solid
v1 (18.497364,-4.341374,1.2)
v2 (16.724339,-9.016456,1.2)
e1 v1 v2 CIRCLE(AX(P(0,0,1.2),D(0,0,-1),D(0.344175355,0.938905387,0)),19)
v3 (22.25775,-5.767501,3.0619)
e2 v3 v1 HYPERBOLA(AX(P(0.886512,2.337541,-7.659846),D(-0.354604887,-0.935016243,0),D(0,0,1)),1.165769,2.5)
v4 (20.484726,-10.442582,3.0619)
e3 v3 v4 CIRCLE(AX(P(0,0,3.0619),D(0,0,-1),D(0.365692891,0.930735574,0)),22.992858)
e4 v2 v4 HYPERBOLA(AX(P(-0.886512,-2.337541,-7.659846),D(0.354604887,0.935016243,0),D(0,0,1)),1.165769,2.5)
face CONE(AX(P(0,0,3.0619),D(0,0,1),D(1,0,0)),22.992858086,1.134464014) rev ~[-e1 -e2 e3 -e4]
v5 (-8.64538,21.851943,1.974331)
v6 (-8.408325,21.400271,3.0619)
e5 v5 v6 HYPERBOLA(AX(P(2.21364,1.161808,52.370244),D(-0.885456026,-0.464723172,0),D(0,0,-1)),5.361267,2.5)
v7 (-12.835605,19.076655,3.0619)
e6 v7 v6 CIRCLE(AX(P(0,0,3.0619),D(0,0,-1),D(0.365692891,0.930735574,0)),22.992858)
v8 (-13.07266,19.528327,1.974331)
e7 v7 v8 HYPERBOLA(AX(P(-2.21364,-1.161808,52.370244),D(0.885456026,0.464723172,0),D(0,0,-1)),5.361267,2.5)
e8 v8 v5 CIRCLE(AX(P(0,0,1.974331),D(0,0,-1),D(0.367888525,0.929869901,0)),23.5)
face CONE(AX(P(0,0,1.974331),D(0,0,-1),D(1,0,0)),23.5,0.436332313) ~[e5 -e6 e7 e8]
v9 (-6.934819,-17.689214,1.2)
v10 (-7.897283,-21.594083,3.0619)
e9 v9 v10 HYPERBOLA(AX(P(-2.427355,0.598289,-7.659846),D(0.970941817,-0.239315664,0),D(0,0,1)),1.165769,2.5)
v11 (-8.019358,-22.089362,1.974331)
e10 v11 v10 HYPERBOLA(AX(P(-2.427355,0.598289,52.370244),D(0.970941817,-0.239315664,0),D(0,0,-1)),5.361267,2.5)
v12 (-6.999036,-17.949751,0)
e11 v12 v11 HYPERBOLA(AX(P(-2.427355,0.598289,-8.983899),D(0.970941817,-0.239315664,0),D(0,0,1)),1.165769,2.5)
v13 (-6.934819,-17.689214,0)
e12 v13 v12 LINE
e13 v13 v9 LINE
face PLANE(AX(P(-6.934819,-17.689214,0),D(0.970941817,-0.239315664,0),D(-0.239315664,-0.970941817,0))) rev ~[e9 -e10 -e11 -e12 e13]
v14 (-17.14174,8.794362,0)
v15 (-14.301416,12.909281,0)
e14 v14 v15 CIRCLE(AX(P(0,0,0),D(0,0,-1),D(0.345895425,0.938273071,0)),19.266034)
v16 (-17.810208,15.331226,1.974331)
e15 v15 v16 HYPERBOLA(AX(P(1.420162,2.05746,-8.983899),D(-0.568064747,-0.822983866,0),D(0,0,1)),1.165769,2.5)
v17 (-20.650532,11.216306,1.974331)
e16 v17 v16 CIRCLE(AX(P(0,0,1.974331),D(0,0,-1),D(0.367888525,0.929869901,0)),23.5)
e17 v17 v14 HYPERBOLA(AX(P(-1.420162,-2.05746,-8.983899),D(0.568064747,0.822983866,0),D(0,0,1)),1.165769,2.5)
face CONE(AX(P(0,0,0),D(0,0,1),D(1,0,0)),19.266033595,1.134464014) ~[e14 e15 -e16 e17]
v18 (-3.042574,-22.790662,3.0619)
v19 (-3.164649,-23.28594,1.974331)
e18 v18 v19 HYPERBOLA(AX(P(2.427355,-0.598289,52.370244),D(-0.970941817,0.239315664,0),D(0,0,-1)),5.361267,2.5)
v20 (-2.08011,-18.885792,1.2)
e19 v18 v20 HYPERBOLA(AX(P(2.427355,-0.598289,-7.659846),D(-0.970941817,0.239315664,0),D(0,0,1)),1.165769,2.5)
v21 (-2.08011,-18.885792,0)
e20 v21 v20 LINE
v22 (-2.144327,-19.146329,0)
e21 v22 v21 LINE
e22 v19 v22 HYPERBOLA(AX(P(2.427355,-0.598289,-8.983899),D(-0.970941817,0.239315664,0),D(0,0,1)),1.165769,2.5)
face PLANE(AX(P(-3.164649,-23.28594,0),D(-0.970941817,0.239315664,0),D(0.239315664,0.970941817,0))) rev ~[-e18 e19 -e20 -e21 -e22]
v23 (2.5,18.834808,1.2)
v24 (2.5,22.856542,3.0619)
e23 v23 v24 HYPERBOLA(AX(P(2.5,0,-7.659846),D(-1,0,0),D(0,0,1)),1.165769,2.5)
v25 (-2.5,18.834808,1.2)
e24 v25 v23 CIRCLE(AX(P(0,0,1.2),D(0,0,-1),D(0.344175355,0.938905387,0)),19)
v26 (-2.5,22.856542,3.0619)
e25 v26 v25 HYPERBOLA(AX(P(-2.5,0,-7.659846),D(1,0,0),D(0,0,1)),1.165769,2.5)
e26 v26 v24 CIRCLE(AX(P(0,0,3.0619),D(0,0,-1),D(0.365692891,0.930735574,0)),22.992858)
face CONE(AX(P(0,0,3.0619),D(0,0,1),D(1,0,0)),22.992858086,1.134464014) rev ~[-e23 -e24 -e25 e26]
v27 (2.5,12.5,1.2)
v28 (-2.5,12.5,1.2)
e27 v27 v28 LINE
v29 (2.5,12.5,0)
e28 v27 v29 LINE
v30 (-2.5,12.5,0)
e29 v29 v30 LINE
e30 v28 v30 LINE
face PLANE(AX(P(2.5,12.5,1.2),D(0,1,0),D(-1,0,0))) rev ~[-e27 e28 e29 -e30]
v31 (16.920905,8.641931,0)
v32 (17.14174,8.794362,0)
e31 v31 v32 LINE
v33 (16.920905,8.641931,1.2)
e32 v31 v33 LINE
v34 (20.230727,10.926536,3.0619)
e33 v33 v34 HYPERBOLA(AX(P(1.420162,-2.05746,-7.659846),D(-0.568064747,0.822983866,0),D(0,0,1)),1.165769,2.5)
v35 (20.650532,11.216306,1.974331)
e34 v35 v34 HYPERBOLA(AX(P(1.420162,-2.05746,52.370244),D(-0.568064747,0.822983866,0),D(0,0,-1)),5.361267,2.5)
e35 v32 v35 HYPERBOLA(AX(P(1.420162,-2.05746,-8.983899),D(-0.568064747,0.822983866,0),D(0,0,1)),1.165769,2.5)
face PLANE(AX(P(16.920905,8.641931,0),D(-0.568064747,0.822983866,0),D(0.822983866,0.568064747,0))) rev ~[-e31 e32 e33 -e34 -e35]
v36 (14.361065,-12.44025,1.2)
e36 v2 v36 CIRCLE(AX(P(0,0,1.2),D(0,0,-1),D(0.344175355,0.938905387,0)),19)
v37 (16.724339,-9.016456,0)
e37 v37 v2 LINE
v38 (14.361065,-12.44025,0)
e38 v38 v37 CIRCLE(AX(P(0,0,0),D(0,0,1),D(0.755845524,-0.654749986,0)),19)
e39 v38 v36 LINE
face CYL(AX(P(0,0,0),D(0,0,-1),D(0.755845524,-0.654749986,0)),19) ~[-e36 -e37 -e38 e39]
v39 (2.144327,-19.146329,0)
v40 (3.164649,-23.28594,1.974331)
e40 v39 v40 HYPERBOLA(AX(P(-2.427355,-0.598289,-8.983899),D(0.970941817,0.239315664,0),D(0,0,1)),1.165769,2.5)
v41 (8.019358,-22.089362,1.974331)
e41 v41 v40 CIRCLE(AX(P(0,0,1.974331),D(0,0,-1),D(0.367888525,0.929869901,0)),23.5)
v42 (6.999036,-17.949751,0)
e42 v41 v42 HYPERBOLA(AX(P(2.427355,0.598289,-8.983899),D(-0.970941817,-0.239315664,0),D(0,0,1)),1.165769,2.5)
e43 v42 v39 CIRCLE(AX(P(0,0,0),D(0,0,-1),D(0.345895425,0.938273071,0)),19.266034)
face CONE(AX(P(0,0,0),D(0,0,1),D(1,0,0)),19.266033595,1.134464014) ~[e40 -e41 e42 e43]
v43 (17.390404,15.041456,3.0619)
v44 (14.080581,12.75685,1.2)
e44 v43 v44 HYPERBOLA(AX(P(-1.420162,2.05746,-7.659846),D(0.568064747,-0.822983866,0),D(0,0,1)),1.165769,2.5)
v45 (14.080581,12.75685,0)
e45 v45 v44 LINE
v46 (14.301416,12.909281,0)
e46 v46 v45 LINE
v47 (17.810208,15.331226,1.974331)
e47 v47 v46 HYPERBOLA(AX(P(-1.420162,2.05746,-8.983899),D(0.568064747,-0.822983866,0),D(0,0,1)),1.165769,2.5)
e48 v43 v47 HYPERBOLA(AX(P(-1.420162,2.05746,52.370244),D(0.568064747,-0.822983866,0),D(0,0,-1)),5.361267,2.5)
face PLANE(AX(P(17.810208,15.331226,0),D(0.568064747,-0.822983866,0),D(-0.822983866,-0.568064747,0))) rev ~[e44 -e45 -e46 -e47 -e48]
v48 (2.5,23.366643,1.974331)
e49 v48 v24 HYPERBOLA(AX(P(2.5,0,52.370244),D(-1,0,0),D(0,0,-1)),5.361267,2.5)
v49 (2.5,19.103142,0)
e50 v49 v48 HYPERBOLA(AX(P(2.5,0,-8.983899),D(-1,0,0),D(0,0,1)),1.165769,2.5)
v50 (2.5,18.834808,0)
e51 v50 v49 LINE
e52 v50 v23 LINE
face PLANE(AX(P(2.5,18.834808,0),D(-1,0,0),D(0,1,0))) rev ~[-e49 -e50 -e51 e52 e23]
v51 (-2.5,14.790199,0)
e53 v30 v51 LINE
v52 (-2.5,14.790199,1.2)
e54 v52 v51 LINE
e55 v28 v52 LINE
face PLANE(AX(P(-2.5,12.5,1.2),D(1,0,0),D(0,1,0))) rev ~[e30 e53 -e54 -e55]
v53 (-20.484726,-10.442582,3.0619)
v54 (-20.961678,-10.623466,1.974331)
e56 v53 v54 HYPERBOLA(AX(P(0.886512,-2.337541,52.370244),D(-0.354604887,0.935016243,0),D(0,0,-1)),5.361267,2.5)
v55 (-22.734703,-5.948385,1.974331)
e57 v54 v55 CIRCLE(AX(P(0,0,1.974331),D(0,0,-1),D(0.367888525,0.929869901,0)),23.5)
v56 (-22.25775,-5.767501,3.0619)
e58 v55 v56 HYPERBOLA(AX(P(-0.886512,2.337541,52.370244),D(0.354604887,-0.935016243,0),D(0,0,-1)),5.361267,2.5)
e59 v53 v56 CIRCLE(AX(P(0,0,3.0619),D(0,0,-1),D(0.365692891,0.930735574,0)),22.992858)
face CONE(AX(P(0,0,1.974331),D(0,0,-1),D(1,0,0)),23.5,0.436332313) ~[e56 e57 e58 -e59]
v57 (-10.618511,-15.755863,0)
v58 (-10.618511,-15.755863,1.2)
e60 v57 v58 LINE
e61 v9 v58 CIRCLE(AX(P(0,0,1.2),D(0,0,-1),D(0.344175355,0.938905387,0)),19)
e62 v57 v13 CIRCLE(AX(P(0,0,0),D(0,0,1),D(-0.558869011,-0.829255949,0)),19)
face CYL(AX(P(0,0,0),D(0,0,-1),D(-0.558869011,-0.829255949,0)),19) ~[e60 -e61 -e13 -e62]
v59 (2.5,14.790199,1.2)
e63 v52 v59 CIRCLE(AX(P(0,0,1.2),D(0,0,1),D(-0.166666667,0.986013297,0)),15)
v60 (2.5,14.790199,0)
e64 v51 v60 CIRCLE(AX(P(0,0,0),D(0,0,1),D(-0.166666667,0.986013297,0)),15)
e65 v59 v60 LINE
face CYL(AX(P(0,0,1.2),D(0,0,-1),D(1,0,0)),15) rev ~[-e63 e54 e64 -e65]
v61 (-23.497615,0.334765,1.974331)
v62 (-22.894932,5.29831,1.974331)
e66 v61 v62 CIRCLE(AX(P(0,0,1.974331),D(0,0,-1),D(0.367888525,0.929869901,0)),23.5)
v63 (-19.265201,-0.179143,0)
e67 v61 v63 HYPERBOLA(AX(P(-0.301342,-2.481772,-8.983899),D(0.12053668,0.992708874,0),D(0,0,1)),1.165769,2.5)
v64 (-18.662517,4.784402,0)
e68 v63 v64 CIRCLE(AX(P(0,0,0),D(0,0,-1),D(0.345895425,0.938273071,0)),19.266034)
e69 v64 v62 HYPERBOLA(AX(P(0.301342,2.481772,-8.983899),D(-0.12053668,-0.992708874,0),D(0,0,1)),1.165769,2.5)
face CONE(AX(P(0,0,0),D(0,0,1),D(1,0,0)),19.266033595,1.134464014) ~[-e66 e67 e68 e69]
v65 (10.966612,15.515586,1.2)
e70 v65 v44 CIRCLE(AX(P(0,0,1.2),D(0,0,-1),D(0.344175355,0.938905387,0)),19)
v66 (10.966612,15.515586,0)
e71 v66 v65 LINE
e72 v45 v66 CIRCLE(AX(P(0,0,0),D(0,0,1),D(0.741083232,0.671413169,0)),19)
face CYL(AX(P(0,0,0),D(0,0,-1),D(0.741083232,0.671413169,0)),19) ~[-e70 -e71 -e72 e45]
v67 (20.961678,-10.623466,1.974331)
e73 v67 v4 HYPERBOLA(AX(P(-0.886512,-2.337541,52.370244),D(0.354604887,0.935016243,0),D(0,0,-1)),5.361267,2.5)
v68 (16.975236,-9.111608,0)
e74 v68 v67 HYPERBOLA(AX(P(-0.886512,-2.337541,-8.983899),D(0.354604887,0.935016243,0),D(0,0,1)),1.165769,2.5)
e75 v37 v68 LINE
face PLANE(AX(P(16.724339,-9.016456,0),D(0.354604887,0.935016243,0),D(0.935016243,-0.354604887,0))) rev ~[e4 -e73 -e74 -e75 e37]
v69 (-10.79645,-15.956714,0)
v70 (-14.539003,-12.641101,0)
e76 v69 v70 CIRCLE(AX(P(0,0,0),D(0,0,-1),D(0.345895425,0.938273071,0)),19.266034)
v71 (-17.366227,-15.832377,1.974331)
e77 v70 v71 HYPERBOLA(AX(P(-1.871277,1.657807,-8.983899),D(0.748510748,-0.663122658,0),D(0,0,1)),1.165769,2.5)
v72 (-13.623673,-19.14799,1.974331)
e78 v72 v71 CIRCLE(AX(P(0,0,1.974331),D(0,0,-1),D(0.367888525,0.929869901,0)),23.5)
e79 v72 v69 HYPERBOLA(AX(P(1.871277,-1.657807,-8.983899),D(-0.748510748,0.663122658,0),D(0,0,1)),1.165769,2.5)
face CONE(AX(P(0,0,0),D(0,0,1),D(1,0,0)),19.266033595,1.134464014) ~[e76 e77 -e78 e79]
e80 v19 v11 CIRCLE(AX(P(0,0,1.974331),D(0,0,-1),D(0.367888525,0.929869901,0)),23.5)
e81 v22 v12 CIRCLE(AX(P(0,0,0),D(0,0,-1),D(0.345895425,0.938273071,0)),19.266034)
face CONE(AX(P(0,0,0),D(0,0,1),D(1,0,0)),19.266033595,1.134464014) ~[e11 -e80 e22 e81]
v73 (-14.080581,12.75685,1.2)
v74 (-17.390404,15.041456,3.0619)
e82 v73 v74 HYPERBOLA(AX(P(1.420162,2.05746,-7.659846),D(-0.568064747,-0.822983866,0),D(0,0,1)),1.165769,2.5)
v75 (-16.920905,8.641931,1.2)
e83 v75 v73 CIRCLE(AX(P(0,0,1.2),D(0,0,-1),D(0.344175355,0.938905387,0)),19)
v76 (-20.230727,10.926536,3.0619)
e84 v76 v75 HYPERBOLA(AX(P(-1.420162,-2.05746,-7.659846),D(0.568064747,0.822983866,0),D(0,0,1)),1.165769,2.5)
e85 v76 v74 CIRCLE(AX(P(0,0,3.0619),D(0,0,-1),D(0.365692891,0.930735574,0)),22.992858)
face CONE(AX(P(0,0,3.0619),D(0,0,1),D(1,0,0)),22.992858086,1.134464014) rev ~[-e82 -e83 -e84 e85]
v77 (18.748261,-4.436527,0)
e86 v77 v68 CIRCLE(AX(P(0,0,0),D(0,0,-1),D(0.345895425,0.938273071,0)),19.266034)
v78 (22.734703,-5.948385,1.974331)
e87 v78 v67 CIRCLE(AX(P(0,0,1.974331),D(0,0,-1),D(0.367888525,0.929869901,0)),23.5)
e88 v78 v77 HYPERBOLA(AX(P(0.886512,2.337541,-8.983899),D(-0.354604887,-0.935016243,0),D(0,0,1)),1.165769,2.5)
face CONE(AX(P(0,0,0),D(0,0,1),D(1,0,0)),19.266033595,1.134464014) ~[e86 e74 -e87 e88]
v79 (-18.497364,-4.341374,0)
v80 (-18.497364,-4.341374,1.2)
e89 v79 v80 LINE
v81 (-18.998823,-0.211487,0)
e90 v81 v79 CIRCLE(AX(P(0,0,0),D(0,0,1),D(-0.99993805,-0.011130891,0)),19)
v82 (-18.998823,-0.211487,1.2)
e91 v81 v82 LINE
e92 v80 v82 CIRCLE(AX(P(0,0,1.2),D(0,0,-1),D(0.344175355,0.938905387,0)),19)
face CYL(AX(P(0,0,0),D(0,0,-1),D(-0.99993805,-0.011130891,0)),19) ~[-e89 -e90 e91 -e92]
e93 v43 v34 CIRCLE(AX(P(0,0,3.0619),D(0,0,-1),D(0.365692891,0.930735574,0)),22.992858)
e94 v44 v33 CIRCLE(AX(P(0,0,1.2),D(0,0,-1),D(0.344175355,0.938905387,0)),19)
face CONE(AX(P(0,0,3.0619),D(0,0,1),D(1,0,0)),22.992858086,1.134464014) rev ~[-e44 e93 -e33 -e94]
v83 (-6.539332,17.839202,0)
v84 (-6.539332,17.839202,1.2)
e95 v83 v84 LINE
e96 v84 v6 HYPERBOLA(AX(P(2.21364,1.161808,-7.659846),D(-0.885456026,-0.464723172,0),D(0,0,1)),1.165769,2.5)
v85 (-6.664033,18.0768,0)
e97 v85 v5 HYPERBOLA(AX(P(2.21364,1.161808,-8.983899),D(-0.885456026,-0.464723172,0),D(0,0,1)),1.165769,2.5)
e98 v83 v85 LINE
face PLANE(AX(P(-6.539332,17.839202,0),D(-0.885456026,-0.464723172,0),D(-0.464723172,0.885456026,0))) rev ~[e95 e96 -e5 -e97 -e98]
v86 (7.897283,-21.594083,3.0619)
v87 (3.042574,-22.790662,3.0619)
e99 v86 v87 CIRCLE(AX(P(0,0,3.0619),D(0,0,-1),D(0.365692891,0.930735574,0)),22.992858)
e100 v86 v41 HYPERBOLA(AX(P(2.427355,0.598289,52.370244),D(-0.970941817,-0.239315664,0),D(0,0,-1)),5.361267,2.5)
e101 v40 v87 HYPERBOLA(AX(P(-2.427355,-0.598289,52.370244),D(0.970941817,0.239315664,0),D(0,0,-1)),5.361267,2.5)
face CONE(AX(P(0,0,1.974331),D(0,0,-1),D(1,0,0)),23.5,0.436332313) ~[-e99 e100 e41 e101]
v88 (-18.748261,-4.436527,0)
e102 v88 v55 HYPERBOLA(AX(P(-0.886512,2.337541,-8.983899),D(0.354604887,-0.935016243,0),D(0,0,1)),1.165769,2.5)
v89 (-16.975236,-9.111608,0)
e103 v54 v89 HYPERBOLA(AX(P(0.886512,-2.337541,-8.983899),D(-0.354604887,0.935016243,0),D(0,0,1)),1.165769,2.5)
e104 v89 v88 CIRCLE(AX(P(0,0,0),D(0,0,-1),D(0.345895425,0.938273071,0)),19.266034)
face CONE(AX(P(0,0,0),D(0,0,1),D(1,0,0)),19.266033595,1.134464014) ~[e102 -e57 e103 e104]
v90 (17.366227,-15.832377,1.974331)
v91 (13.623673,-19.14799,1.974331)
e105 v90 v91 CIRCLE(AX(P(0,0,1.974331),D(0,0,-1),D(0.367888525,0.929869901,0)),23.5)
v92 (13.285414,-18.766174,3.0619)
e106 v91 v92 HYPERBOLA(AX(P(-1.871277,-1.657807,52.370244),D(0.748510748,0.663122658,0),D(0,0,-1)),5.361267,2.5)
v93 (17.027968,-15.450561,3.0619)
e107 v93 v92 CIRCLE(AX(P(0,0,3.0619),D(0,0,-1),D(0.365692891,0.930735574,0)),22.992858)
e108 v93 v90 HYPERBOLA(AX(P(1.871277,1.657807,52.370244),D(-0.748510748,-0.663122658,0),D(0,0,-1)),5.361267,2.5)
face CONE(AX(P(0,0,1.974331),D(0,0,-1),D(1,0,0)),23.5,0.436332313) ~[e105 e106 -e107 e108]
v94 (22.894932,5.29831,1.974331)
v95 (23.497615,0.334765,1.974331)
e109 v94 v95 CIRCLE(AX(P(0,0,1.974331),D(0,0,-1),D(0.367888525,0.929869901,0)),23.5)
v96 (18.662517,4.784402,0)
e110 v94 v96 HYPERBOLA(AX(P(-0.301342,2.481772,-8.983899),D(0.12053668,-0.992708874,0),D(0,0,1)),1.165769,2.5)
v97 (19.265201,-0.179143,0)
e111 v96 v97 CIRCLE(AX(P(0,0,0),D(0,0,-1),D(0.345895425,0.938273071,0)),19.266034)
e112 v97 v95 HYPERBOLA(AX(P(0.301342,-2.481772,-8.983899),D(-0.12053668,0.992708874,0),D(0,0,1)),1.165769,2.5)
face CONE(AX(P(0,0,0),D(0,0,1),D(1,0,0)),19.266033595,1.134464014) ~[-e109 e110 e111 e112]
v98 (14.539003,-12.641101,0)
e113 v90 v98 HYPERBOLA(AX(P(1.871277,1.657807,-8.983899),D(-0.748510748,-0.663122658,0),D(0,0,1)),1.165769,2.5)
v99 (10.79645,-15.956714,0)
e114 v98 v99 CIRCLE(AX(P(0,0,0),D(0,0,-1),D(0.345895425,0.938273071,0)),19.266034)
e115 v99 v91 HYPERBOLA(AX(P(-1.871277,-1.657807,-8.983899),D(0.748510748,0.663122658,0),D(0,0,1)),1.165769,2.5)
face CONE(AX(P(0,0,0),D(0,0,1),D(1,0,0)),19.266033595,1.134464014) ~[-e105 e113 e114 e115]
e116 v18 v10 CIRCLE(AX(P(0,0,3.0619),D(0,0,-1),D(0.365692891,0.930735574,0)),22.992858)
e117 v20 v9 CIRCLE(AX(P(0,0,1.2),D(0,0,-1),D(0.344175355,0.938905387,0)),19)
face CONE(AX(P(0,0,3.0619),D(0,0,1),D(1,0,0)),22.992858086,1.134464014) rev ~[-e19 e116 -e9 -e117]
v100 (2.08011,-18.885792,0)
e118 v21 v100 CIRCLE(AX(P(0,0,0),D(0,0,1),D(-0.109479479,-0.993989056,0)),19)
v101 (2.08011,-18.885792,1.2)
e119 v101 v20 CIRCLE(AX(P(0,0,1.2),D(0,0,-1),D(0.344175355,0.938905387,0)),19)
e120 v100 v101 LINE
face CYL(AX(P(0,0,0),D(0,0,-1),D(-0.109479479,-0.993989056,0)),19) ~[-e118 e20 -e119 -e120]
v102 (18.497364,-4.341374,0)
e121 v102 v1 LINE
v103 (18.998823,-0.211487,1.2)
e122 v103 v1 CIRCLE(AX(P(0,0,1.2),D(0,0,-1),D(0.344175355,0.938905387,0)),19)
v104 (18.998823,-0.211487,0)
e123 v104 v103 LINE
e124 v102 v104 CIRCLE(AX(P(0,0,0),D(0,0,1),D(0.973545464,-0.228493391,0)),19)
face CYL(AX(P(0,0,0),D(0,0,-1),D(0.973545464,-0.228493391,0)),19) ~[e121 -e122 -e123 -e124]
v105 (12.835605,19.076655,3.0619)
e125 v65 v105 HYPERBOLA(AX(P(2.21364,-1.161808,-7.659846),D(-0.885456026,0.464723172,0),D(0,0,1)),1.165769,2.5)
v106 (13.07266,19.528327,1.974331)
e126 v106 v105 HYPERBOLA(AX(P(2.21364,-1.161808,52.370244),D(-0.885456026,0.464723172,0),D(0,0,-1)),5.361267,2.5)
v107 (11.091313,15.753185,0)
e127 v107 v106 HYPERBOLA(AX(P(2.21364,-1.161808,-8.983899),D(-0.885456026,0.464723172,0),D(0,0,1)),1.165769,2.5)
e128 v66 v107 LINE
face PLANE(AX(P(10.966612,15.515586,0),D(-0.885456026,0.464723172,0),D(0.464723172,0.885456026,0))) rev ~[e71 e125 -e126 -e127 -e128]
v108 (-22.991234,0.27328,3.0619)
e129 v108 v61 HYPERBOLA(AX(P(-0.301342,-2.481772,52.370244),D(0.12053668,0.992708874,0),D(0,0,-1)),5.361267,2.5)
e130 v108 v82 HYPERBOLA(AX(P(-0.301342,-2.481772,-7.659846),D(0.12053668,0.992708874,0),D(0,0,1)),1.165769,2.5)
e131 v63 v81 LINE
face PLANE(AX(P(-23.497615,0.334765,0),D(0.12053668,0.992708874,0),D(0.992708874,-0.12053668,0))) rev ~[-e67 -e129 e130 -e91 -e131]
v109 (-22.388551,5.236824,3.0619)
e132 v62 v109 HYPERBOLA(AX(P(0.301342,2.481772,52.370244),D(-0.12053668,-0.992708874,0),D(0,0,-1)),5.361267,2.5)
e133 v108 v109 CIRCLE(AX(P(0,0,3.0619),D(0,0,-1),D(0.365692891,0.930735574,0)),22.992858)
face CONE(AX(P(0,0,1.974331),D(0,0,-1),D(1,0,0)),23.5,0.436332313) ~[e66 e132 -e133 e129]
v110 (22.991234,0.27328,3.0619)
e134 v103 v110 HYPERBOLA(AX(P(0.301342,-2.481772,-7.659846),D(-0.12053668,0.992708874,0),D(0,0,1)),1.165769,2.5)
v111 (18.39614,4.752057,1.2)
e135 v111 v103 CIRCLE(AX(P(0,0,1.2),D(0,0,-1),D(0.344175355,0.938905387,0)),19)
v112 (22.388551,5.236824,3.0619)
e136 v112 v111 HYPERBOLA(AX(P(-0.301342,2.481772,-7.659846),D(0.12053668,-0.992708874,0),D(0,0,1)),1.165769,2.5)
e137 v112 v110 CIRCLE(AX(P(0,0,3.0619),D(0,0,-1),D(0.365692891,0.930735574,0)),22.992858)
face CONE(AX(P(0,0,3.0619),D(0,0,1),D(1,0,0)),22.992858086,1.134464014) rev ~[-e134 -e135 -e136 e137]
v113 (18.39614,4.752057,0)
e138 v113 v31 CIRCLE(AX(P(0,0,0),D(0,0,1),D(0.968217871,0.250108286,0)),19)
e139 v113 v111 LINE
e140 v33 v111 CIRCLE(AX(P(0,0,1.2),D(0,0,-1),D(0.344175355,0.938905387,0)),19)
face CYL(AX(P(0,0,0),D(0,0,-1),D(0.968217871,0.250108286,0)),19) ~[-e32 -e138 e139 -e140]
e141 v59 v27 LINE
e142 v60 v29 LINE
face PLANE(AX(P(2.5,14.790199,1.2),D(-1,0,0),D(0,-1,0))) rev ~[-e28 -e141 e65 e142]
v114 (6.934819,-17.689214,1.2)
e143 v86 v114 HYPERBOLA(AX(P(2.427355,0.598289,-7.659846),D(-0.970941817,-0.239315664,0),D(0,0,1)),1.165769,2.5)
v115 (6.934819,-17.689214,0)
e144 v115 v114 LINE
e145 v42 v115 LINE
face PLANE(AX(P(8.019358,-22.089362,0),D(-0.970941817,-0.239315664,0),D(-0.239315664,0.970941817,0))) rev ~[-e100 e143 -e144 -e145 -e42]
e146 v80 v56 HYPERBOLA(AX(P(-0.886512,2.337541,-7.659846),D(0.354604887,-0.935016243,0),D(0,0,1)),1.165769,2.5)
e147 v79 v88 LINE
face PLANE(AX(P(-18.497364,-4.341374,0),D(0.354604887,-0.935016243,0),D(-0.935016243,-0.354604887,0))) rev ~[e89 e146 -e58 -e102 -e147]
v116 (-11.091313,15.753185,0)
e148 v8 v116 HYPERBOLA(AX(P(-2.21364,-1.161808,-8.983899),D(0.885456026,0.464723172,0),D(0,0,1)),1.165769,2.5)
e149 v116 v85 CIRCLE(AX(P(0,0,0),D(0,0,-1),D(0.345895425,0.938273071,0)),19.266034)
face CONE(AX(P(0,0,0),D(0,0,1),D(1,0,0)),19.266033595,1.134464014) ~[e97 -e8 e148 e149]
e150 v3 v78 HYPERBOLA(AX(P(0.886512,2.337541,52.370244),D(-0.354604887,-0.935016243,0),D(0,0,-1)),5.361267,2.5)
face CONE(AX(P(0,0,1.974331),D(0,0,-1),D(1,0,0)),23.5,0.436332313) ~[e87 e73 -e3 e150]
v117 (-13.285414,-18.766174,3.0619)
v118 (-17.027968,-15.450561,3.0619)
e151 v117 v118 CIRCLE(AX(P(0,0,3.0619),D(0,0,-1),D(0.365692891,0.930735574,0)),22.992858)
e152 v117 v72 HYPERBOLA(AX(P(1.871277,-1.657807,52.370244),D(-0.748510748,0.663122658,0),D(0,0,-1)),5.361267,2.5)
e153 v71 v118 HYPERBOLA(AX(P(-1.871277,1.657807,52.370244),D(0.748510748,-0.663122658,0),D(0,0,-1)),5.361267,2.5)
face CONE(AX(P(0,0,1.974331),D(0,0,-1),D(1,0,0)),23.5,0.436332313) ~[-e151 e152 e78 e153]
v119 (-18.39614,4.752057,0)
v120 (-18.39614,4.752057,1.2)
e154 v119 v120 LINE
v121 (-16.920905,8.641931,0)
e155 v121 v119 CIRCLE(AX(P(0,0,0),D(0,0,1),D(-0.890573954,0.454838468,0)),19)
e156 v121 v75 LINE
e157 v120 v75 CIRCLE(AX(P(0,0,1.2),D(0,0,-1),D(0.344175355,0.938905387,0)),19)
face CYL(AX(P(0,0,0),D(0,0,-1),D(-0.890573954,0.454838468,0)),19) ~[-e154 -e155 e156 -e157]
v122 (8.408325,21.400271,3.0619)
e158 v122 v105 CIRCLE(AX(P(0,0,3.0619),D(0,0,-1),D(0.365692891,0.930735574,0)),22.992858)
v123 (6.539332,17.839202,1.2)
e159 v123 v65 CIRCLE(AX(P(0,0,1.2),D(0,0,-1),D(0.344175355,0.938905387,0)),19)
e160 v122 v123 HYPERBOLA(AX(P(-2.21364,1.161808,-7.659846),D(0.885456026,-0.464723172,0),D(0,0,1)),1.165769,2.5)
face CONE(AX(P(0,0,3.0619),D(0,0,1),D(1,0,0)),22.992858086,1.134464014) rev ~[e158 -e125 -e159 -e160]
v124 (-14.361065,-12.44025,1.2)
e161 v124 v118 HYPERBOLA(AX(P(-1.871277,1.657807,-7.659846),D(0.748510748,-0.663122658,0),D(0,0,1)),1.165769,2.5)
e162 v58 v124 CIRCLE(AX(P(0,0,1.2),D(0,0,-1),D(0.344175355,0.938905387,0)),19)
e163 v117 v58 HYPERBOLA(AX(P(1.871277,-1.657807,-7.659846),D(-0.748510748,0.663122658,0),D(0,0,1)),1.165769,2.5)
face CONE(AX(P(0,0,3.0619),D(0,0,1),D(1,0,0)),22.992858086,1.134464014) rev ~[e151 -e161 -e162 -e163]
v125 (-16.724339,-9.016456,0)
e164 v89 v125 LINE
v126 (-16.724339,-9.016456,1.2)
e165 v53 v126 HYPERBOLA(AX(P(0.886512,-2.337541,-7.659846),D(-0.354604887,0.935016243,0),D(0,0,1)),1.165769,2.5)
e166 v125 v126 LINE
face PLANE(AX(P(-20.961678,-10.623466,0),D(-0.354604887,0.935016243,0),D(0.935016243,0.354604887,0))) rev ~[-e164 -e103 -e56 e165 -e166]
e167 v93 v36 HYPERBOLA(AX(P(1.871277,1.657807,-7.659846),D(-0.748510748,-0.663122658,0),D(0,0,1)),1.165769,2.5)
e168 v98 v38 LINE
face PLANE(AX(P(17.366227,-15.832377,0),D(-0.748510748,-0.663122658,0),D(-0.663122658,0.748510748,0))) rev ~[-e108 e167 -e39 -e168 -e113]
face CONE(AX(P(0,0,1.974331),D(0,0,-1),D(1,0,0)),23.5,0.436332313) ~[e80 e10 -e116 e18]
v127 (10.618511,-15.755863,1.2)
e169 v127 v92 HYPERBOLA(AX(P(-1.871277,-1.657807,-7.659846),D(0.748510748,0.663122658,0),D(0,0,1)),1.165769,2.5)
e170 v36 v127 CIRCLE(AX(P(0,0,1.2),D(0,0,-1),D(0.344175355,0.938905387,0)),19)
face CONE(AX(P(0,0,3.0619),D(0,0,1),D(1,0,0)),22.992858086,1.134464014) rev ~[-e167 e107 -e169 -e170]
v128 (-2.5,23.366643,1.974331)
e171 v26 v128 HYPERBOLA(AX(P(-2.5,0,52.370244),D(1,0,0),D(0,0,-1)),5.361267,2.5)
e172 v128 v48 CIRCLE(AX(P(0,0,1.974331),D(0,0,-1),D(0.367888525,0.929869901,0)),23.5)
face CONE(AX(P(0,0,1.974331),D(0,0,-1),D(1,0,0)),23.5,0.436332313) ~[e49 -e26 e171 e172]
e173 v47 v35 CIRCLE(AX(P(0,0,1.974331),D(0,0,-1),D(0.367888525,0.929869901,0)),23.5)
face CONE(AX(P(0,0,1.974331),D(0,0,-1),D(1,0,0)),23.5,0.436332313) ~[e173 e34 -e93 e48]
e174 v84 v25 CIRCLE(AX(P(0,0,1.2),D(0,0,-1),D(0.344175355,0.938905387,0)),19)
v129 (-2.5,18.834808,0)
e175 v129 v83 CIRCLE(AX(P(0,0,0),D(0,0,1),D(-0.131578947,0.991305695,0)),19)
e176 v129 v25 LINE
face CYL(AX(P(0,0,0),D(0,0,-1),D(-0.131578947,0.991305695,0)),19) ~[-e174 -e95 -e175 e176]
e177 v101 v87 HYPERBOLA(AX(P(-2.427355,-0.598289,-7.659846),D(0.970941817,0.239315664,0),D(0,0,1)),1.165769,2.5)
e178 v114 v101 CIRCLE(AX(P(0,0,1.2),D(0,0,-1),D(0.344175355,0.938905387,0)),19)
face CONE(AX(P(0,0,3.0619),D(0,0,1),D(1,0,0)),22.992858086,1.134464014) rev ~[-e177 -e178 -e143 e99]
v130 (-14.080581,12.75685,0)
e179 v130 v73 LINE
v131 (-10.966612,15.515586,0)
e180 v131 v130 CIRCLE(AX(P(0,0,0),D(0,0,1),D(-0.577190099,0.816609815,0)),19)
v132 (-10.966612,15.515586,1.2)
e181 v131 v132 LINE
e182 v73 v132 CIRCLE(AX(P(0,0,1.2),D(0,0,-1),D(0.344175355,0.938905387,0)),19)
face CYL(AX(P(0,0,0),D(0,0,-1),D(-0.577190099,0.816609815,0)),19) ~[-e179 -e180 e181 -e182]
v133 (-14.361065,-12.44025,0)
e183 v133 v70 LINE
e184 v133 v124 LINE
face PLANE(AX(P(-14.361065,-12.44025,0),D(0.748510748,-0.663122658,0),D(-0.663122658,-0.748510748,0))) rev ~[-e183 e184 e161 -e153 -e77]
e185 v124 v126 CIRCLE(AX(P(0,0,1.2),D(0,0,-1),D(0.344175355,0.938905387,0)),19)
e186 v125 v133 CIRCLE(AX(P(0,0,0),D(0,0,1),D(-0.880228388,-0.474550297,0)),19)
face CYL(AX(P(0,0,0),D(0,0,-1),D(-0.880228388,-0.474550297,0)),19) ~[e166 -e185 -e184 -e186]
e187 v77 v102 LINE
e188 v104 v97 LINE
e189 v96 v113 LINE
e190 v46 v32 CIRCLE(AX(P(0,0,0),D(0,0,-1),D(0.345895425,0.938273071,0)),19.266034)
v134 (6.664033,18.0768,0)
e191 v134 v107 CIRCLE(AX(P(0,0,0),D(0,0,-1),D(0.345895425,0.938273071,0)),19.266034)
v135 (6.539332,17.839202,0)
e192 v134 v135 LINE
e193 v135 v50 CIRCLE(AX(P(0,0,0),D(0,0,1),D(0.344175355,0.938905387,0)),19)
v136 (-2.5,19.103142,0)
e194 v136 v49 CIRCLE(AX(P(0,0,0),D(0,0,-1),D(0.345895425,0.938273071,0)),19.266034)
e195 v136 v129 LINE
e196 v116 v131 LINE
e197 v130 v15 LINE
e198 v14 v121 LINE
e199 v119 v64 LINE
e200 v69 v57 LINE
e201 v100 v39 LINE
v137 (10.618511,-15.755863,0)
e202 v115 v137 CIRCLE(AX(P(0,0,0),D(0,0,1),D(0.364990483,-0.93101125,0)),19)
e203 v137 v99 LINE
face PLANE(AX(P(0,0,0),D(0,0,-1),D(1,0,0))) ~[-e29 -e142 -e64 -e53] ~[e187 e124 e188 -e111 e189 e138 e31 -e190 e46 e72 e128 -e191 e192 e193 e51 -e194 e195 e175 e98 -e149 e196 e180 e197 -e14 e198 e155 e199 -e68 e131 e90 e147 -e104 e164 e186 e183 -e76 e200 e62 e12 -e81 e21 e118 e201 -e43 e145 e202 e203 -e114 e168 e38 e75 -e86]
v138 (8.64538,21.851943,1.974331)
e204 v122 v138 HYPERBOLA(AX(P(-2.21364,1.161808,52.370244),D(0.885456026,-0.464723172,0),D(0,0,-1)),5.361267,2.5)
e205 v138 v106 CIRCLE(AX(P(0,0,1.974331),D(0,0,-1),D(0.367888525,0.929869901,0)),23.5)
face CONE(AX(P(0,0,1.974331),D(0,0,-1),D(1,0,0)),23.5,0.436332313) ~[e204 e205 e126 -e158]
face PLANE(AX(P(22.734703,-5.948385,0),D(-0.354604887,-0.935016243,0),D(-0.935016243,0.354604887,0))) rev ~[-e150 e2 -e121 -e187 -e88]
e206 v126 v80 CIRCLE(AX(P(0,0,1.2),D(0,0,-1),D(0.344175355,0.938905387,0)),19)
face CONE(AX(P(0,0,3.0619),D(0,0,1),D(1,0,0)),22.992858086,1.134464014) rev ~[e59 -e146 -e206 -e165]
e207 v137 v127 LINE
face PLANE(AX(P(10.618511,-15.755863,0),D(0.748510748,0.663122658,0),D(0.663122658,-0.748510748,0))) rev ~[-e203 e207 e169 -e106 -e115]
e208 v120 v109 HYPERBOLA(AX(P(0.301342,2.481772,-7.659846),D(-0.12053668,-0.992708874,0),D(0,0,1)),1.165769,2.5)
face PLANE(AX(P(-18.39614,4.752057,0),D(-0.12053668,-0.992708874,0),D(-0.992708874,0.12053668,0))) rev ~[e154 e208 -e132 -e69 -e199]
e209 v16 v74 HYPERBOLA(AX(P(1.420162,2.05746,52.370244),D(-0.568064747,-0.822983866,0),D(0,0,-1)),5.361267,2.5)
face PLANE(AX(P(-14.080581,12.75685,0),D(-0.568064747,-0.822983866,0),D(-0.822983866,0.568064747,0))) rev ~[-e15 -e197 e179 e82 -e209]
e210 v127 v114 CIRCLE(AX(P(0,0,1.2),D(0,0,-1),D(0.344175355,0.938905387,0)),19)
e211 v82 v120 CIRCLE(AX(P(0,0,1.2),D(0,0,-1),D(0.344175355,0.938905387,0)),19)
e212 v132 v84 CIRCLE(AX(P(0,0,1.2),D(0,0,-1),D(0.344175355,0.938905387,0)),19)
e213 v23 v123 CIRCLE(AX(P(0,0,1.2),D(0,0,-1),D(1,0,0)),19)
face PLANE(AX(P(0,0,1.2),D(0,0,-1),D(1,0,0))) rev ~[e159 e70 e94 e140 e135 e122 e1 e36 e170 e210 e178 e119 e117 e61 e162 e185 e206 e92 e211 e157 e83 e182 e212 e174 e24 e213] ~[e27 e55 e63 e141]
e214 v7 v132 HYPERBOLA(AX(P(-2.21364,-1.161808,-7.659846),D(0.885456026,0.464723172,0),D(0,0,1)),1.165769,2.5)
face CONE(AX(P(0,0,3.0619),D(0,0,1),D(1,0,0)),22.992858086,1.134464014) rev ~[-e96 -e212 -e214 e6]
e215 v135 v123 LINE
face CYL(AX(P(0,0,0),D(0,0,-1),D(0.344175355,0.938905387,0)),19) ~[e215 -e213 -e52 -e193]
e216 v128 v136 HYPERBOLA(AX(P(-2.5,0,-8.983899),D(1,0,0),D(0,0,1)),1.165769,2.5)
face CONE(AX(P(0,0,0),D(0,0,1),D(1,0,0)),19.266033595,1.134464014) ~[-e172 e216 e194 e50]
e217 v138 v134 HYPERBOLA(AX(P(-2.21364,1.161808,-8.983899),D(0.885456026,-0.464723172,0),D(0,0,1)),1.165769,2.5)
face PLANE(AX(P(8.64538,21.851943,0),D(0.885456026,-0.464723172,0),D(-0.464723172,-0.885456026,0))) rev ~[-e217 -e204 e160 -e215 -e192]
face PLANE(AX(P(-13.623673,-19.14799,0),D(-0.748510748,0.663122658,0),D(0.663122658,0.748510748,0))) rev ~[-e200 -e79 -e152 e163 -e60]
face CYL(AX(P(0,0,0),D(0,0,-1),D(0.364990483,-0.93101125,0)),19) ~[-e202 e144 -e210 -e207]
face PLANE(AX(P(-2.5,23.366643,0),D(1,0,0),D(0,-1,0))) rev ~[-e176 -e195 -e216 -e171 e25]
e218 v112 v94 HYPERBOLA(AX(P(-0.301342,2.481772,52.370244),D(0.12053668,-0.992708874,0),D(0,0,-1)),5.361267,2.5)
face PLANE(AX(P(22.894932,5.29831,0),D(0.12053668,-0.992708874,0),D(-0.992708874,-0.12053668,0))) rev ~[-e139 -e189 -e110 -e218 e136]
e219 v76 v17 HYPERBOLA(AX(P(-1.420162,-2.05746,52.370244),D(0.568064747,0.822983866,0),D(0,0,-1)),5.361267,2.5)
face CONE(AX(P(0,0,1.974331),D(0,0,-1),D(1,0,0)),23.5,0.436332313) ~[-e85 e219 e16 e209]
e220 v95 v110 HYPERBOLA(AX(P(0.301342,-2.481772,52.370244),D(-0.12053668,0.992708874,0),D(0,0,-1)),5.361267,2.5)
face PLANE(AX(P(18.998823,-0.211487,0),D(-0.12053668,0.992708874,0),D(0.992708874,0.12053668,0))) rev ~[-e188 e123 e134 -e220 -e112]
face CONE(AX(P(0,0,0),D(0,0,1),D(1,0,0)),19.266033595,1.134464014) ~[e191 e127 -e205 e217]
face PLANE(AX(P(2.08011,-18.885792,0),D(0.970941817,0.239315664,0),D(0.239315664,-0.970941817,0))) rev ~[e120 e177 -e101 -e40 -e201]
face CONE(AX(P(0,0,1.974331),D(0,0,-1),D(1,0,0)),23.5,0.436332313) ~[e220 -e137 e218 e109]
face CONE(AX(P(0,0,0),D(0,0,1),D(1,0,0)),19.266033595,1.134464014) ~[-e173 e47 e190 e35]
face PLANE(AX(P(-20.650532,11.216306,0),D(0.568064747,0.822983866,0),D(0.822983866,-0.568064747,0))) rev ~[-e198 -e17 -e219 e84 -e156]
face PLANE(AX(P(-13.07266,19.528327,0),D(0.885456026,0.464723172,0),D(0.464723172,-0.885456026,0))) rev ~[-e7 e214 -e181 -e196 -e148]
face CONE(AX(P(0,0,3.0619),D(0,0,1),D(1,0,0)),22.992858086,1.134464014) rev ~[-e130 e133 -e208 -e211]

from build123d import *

# Parameters (mm, degrees)
CUT_EXTRUDE2_DEPTH  = 34.374769414
CIRPATTERN1_COUNT   = 13
BOSS_EXTRUDE1_START = -1.2
BOSS_EXTRUDE1_DEPTH = 1.2


with BuildPart() as part:
    # Sketch1 → Base-Revolve (revolve)
    with BuildSketch(Plane(origin=(0, 0, 0), x_dir=(0, 0, -1), z_dir=(1, 0, 0)), mode=Mode.PRIVATE) as base_revolve_sk:
        Polygon((0, 15), (0, 19.266033595), (-1.974330959, 23.5), (-3.061900303, 22.992858086), (-1.2, 19), (-1.2, 15), align=None)
    revolve(base_revolve_sk.sketch.rotate(Axis((0, 0, 14), (0, 0, -1)), 90), axis=Axis((0, 0, 14), (0, 0, -1)))

    # Sketch3 → Cut-Extrude2 (cut, through all)
    with BuildSketch(Plane(origin=(0, 0, 0), x_dir=(-1, 0, 0), z_dir=(0, 0, -1))):
        with BuildLine():
            Line((-2.5, 18.834808202), (-2.5, 23.366642891))
            ThreePointArc((-2.5, 23.366642891), (-5.623918111, 22.81713271), (-8.64538034, 21.851942677))
            Line((-8.64538034, 21.851942677), (-6.539331748, 17.839202344))
            ThreePointArc((-6.539331748, 17.839202344), (-4.546997621, 18.447894531), (-2.5, 18.834808202))
        make_face()
    cut_extrude2 = extrude(amount=-CUT_EXTRUDE2_DEPTH, mode=Mode.SUBTRACT)

    # CirPattern1: Cut-Extrude2 ×13 about axis
    cirpattern1_axis = Axis((0, 0, 0), (0, 0, 1))
    for i in range(1, CIRPATTERN1_COUNT):
        add(cut_extrude2.rotate(cirpattern1_axis, i * 360 / CIRPATTERN1_COUNT), mode=Mode.SUBTRACT)

    # Sketch4 → Boss-Extrude1 (add)
    with BuildSketch(Plane(origin=(0, 0, 0), x_dir=(-1, 0, 0), z_dir=(0, 0, -1)).offset(BOSS_EXTRUDE1_START)):
        with BuildLine():
            Line((-2.5, 14.790199458), (-2.5, 12.5))
            Line((-2.5, 12.5), (2.5, 12.5))
            Line((2.5, 12.5), (2.5, 14.790199458))
            ThreePointArc((2.5, 14.790199458), (0, 15), (-2.5, 14.790199458))
        make_face()
    extrude(amount=BOSS_EXTRUDE1_DEPTH)


solid = part.part
